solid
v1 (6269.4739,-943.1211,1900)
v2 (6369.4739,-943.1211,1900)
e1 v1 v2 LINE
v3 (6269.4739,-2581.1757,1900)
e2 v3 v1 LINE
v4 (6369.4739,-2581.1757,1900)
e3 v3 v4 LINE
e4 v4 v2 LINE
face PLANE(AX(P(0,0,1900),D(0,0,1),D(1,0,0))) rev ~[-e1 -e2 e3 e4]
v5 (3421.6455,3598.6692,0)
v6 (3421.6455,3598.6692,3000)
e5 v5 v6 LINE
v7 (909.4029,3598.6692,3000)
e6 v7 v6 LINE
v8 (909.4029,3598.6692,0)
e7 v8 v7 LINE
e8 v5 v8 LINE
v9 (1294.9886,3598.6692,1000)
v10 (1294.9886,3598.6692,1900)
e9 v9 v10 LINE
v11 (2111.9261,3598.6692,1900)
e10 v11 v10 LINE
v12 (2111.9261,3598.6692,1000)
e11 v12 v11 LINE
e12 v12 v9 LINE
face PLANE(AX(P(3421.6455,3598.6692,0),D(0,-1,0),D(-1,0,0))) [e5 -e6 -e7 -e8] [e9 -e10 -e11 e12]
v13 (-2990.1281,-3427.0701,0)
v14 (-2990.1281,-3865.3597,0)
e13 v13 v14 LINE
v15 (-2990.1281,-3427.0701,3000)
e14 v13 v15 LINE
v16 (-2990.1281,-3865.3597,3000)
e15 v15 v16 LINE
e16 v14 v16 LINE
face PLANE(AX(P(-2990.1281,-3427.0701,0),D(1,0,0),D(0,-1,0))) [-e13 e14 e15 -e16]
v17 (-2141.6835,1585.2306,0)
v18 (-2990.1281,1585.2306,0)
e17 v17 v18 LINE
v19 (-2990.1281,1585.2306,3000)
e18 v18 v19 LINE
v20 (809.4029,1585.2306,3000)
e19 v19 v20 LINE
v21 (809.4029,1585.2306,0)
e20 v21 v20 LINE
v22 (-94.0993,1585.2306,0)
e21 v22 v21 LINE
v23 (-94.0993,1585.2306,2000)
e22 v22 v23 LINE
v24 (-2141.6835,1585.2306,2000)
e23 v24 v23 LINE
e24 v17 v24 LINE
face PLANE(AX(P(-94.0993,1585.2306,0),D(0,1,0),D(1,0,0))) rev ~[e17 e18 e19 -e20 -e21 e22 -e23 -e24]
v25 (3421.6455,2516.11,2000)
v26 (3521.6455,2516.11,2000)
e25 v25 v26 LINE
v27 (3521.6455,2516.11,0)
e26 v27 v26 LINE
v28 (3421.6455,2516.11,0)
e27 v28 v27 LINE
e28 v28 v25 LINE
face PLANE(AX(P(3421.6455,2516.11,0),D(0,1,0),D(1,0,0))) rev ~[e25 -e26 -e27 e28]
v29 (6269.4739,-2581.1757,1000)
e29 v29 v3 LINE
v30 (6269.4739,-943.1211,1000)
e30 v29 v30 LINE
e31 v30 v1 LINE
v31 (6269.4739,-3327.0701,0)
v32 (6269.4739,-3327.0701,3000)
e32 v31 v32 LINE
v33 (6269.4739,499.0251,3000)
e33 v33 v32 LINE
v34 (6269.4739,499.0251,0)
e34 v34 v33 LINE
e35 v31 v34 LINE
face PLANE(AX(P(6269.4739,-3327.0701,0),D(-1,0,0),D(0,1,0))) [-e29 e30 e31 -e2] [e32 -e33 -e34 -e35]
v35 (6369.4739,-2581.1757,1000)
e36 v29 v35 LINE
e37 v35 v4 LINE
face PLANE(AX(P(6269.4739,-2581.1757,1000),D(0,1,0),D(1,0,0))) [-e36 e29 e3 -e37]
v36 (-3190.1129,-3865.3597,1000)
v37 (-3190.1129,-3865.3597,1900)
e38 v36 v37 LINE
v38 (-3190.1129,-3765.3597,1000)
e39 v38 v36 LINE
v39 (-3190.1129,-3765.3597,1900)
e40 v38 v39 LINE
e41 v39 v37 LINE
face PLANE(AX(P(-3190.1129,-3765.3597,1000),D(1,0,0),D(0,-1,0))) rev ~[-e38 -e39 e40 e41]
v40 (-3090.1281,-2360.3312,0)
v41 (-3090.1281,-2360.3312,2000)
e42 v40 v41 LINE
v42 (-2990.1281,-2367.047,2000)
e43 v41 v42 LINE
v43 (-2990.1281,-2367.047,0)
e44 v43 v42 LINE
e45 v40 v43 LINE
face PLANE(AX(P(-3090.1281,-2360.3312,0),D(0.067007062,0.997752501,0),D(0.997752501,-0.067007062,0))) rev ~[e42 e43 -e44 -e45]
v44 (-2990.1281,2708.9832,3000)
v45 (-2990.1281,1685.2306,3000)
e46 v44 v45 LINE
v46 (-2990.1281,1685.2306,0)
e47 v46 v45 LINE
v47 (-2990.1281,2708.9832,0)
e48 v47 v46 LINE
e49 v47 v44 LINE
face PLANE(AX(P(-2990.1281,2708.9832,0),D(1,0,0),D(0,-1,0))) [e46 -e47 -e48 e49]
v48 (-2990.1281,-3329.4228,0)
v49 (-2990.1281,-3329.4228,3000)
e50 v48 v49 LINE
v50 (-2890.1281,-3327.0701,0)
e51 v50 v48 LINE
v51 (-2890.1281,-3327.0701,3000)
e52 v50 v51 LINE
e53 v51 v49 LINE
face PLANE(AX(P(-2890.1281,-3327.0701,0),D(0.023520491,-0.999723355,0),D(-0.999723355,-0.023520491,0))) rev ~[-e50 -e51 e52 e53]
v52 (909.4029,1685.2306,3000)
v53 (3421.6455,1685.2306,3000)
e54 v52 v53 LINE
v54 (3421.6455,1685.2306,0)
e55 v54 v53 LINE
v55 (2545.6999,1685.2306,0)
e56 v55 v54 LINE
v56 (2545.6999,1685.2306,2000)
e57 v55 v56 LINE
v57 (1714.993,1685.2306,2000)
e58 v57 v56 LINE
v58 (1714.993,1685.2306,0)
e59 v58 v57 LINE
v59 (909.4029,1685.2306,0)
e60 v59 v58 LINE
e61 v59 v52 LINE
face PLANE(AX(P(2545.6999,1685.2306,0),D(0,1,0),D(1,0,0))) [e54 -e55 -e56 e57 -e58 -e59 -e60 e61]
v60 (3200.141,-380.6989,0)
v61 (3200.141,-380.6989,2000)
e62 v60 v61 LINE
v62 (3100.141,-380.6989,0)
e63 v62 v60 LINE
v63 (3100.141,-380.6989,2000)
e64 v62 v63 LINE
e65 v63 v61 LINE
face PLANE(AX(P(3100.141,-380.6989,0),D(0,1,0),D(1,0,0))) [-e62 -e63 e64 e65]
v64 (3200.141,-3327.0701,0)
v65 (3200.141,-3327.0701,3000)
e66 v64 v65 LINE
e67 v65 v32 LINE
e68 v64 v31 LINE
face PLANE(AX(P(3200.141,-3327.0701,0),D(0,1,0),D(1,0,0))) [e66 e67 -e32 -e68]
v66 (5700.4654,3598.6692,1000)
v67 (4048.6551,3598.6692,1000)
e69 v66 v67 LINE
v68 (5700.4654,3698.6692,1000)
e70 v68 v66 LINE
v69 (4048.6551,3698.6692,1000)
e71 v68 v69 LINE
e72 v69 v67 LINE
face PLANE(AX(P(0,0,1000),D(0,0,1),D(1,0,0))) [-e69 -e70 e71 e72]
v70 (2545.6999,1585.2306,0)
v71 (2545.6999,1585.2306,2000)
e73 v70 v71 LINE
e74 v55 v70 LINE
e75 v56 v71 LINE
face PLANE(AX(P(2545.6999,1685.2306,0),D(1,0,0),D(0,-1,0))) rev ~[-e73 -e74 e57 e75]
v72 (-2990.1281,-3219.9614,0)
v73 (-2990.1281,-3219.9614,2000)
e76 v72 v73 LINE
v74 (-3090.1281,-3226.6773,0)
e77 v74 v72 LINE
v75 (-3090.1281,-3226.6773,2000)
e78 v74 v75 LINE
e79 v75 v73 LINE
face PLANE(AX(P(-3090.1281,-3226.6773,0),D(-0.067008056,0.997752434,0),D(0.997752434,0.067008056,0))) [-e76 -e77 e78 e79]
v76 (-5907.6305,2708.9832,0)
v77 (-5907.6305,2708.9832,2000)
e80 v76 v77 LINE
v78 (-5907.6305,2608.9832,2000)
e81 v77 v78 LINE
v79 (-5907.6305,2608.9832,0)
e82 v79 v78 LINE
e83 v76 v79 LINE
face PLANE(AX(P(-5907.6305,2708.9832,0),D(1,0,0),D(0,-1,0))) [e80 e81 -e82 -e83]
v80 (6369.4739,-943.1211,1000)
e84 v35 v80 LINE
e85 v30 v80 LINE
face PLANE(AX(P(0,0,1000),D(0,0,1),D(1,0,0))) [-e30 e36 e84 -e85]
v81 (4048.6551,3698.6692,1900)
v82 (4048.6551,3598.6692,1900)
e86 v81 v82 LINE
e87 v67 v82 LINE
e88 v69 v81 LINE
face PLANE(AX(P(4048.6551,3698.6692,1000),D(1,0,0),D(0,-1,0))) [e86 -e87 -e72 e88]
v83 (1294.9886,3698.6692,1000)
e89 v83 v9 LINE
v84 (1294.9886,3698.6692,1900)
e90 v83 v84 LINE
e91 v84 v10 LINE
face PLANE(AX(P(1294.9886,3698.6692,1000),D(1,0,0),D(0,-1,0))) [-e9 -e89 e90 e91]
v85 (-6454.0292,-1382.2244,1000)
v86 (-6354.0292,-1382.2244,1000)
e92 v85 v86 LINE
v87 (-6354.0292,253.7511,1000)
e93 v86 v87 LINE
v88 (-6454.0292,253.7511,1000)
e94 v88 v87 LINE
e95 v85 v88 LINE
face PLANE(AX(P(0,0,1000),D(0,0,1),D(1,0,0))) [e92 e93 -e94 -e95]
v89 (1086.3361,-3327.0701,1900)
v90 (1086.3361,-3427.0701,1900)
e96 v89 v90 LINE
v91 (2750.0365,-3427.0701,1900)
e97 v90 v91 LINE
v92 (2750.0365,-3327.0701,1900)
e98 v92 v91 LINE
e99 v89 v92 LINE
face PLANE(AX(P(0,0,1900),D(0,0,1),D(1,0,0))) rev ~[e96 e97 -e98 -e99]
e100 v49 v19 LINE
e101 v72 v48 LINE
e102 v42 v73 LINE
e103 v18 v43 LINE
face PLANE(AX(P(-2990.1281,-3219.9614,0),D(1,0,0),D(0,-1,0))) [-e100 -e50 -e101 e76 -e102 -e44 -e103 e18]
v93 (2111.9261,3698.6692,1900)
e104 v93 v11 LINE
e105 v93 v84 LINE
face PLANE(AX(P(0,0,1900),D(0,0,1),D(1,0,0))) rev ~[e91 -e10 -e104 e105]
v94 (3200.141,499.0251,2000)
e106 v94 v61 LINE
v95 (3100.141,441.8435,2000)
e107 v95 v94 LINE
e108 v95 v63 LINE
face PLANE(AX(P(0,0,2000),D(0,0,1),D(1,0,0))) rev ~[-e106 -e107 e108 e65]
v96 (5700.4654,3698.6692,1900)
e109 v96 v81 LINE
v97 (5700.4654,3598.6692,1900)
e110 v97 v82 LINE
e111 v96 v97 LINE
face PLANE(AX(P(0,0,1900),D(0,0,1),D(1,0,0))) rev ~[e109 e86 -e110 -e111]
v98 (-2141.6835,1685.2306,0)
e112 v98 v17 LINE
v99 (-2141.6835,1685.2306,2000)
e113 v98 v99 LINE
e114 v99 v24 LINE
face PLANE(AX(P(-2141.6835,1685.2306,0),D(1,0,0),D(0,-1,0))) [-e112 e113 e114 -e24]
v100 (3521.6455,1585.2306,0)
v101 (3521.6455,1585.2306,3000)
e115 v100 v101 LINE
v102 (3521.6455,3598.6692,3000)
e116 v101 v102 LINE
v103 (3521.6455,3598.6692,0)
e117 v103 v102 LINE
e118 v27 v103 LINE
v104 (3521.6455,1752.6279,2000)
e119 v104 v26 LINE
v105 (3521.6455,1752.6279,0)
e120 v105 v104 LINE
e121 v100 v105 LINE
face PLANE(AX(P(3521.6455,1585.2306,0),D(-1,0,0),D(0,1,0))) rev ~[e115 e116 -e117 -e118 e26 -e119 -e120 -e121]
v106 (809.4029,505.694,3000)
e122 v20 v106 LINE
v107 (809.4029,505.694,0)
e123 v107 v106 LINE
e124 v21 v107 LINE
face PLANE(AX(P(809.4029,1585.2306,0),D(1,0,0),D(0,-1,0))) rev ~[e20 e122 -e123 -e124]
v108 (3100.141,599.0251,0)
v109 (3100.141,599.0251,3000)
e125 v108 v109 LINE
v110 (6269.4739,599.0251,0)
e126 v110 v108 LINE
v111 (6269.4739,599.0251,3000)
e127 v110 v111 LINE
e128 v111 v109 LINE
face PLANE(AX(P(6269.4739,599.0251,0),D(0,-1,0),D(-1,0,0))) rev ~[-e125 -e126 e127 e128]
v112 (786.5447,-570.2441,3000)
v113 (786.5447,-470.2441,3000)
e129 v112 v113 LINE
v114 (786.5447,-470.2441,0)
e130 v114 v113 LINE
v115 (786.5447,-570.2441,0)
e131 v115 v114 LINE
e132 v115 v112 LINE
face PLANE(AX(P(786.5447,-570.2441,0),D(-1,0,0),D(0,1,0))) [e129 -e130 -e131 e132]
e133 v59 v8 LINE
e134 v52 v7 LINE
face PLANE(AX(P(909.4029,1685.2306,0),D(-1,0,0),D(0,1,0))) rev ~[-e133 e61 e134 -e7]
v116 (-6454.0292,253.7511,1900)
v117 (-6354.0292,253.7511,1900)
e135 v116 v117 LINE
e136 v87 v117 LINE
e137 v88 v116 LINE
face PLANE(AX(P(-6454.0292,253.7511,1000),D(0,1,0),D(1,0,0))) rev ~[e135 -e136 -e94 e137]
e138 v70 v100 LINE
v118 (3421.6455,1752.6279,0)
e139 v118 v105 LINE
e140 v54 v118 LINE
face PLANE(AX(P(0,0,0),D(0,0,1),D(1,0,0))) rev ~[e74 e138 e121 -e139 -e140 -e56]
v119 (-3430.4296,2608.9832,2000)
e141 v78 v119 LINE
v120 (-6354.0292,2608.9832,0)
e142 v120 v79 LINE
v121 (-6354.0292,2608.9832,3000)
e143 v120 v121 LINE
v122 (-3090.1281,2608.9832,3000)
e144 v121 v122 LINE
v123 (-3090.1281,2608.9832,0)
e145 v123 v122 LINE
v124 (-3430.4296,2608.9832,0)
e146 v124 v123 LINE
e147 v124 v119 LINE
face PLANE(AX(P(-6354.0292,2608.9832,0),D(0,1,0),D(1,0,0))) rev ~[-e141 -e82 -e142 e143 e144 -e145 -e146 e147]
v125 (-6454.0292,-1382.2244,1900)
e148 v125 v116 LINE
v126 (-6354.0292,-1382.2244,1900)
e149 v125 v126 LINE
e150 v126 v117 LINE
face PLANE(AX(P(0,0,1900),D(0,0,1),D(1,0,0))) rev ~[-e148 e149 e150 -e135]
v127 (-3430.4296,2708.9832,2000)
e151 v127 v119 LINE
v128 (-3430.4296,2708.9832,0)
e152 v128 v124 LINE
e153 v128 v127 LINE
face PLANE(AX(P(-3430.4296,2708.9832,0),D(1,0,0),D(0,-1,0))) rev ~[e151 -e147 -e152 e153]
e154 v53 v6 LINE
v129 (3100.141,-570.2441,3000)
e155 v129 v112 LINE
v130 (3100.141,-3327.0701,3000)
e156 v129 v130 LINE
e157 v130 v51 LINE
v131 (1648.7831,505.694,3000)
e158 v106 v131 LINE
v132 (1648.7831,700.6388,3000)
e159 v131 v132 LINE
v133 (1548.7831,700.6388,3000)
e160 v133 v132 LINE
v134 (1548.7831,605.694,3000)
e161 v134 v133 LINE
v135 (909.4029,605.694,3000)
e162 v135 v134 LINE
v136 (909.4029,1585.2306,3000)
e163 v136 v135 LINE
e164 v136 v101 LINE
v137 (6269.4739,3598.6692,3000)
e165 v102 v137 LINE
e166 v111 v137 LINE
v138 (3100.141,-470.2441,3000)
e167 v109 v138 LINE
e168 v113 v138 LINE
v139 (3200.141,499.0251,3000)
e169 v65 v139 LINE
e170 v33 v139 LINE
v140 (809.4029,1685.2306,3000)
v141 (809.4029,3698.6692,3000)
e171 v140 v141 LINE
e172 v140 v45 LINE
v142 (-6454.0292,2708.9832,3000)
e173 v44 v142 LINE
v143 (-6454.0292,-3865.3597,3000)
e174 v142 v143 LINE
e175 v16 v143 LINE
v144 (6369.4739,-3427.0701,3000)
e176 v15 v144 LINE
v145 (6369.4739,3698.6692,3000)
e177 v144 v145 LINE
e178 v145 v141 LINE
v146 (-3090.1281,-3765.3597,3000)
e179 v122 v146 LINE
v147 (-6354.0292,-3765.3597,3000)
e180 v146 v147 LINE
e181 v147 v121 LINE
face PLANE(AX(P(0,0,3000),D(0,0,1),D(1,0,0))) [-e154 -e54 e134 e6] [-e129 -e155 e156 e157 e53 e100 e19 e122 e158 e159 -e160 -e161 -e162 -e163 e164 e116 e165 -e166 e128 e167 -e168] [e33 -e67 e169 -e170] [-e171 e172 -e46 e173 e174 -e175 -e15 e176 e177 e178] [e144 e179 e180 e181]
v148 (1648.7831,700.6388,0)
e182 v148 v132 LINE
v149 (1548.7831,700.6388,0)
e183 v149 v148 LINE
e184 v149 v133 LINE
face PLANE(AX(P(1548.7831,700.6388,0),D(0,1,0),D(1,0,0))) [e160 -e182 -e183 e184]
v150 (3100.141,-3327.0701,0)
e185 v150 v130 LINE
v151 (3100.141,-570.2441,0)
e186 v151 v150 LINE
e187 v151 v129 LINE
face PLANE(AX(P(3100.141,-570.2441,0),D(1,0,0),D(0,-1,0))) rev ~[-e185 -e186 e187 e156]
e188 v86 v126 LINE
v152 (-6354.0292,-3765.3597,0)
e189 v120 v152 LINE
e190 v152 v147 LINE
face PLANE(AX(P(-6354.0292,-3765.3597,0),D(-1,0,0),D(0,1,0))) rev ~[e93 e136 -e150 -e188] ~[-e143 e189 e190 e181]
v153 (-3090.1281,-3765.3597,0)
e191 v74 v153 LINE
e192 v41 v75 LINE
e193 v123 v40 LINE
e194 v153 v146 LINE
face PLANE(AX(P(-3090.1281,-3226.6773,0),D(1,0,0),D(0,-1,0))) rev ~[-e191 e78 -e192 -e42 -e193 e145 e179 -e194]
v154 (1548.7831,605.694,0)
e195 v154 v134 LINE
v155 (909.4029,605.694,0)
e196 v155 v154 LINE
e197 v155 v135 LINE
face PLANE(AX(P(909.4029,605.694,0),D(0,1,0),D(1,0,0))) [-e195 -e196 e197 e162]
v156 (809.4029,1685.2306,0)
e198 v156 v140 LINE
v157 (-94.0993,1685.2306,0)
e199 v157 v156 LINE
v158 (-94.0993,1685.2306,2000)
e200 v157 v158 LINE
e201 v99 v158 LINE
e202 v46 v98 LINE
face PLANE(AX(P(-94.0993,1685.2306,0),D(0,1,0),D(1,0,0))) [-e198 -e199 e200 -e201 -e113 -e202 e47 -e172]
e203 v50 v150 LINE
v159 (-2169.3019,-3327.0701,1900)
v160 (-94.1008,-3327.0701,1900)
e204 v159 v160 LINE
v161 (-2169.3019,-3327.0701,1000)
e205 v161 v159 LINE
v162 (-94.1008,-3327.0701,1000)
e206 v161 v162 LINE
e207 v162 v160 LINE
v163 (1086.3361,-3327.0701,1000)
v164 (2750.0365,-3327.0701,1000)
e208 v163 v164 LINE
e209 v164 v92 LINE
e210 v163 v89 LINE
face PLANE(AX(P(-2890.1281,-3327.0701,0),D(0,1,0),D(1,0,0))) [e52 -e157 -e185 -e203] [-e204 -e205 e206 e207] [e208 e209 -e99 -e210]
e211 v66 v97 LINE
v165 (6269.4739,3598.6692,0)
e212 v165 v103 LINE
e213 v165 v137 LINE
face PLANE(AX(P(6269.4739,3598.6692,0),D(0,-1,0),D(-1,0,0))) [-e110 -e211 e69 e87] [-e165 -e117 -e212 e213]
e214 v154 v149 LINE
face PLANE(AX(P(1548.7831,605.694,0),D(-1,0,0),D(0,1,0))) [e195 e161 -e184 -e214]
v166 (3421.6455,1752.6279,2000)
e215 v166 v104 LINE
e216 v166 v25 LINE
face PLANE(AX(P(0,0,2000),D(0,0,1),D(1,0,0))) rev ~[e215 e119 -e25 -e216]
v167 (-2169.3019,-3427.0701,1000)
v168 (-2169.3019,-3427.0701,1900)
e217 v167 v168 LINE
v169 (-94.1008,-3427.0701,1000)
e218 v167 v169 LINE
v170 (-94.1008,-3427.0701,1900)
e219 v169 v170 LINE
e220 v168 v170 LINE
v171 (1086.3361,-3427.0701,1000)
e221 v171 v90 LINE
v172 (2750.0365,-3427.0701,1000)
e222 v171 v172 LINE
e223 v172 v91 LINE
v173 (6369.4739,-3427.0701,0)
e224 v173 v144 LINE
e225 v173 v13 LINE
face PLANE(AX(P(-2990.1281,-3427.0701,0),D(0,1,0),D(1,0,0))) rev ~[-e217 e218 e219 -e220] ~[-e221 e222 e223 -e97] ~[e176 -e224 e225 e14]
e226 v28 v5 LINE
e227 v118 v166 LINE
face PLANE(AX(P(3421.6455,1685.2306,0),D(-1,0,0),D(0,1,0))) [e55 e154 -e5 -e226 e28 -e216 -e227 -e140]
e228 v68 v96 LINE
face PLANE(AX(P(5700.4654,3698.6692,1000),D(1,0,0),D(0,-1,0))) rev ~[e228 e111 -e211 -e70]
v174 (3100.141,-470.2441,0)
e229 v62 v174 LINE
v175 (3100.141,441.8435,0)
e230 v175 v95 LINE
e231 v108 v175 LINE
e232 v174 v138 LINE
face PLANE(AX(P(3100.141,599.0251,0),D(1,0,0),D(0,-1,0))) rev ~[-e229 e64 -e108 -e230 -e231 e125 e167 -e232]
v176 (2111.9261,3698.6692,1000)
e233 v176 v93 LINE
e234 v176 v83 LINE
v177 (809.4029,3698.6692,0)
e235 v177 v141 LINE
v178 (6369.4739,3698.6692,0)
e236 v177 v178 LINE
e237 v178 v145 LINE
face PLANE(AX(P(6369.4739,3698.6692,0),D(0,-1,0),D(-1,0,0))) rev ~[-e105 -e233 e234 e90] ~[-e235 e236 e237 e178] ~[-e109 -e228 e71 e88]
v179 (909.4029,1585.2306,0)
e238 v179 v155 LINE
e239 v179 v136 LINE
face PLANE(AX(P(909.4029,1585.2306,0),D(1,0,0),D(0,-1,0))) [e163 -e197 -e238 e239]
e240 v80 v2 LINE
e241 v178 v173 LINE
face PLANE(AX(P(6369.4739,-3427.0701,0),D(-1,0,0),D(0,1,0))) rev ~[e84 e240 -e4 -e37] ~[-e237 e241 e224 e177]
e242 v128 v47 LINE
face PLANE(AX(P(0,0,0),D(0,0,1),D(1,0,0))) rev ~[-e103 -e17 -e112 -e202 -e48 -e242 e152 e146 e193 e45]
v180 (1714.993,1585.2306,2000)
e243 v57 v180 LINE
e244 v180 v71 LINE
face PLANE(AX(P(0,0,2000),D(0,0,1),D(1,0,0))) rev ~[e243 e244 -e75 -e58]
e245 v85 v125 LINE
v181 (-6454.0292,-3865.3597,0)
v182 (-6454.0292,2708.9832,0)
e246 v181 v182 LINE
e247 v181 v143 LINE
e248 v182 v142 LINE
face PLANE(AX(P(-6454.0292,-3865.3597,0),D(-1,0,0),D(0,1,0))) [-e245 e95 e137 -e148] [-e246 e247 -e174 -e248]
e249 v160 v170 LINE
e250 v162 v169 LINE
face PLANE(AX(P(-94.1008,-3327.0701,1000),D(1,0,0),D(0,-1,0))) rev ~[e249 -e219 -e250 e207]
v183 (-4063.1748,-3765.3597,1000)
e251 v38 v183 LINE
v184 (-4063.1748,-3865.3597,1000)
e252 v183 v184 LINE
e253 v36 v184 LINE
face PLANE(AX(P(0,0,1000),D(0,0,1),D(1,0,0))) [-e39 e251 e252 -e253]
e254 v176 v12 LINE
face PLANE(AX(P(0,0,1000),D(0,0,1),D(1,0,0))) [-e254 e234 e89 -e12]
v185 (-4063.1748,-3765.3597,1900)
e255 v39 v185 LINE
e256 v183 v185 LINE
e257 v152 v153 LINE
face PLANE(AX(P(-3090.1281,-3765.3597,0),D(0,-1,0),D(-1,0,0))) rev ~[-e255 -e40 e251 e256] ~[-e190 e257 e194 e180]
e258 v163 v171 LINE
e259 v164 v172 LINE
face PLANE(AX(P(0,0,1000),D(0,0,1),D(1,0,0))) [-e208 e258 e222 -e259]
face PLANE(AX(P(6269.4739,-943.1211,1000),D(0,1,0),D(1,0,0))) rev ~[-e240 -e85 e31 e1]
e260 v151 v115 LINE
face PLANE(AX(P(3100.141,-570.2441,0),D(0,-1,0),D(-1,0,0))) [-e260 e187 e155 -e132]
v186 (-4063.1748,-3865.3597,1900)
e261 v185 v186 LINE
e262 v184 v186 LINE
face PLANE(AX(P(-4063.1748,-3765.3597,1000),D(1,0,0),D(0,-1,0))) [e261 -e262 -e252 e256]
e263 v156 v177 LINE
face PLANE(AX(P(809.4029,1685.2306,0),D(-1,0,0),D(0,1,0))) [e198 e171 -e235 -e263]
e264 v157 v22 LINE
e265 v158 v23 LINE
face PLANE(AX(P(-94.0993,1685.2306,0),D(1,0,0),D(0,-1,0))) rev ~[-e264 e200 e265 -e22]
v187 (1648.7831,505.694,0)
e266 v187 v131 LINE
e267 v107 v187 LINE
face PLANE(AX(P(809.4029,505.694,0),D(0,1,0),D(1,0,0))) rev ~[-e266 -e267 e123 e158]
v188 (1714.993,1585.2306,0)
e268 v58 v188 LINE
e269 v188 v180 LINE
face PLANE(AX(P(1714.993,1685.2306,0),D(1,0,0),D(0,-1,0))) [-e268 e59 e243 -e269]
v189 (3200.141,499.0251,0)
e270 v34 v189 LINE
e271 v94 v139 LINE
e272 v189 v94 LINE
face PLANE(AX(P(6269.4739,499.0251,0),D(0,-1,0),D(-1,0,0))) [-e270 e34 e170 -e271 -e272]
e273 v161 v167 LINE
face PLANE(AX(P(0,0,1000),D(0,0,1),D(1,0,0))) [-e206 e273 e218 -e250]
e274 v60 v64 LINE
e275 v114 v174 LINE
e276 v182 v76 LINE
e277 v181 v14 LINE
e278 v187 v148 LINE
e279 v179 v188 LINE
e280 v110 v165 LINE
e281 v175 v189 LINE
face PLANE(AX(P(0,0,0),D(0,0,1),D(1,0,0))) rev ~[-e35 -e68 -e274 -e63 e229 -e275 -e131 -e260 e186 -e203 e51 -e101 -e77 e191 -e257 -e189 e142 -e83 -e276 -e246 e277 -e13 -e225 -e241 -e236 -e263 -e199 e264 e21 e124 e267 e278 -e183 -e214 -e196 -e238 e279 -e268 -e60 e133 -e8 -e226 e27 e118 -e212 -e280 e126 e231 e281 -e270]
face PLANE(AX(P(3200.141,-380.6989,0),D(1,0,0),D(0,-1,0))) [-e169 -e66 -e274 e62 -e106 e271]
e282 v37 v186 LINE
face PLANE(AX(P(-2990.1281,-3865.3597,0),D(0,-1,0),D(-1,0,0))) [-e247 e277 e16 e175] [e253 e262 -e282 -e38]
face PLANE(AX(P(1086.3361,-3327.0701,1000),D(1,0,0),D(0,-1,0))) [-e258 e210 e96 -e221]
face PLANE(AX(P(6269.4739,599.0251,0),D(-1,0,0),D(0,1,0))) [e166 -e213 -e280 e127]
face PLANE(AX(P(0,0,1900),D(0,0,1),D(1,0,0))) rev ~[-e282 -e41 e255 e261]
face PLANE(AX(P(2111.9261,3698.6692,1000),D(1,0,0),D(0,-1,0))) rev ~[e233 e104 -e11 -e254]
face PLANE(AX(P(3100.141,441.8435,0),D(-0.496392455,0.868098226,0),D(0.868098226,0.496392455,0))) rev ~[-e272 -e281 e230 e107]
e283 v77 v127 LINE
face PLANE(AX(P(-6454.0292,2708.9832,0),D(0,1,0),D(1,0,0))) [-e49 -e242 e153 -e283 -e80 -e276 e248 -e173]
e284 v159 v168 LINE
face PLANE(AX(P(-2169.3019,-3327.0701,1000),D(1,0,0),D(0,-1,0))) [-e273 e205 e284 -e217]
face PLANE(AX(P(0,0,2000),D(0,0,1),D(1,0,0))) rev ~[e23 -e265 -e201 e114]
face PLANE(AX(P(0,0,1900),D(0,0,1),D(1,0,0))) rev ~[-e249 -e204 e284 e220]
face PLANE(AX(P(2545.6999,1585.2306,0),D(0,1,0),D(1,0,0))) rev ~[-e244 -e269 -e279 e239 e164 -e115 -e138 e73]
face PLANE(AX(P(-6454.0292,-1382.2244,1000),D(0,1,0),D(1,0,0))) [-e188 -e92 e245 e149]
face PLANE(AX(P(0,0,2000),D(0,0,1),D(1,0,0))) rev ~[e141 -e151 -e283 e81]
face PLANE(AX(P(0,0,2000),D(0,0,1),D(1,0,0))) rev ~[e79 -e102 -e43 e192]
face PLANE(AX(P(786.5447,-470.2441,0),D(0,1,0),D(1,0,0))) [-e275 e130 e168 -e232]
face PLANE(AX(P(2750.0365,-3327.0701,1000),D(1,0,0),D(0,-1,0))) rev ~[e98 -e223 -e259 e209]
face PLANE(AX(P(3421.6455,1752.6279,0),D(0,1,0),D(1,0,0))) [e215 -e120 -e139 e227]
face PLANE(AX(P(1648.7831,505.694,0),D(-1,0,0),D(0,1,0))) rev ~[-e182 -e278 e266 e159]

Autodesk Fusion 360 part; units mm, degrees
sketch "Sketch1" plane through (0, 0, 0) normal (0, 0, 1) x (1, 0, 0)
  line L0 (-2990.1281, -3865.3597) -> (-6454.0292, -3865.3597)
  line L1 (-6454.0292, -3865.3597) -> (-6454.0292, 2708.9832)
  line L2 (-6454.0292, 2708.9832) -> (-2990.1281, 2708.9832)
  line L3 (-2990.1281, 2708.9832) -> (-2990.1281, -3865.3597)
  line L4 (-2990.1281, -3427.0701) -> (6369.4739, -3427.0701)
  line L5 (6369.4739, -3427.0701) -> (6369.4739, 3698.6692)
  line L6 (6369.4739, 3698.6692) -> (809.4029, 3698.6692)
  line L7 (-2990.1281, 2708.9832) -> (-2990.1281, -3427.0701)
  line L8 (-2990.1281, 1685.2306) -> (809.4029, 1685.2306)
  line L9 (809.4029, 1685.2306) -> (809.4029, 3698.6692)
  line L10 (-2990.1281, 2708.9832) -> (-2990.1281, 1685.2306)
  line L11 (6369.4739, 599.0251) -> (3100.141, 599.0251)
  line L12 (3100.141, 599.0251) -> (3100.141, -3427.0701)
  line L13 (3100.141, -3427.0701) -> (6369.4739, -3427.0701)
  line L14 (6369.4739, -3427.0701) -> (6369.4739, 599.0251)
  line L15 (3100.141, -570.2441) -> (786.5447, -570.2441)
  line L16 (786.5447, -570.2441) -> (786.5447, -470.2441)
  line L17 (786.5447, -470.2441) -> (3100.141, -470.2441)
  line L18 (3100.141, -470.2441) -> (3100.141, -570.2441)
  line L19 (-3090.1281, -3765.3597) -> (-6354.0292, -3765.3597)
  line L20 (-6354.0292, -3765.3597) -> (-6354.0292, 2608.9832)
  line L21 (-6354.0292, 2608.9832) -> (-3090.1281, 2608.9832)
  line L22 (-3090.1281, 2608.9832) -> (-3090.1281, -3765.3597)
  line L23 (-2890.1281, -3327.0701) -> (6269.4739, -3327.0701)
  line L24 (6269.4739, -3327.0701) -> (6269.4739, 3598.6692)
  line L25 (6269.4739, 3598.6692) -> (909.4029, 3598.6692)
  line L26 (909.4029, 1585.2306) -> (909.4029, 3598.6692)
  line L27 (-2890.1281, 1585.2306) -> (909.4029, 1585.2306)
  line L28 (-2890.1281, -3327.0701) -> (-2990.1281, -3329.4228)
  line L29 (-2890.1281, 1585.2306) -> (-2990.1281, 1585.2306)
  line L30 (6369.4739, 499.0251) -> (3200.141, 499.0251)
  line L31 (3200.141, 499.0251) -> (3200.141, -3427.0701)
  line L32 (809.4029, 1585.2306) -> (3521.6455, 1585.2306)
  line L33 (3521.6455, 1585.2306) -> (3521.6455, 3698.6692)
  line L34 (3521.6455, 3698.6692) -> (809.4029, 3698.6692)
  line L35 (809.4029, 3698.6692) -> (809.4029, 1585.2306)
  line L36 (809.4029, 1685.2306) -> (3421.6455, 1685.2306)
  line L37 (3421.6455, 1685.2306) -> (3421.6455, 3698.6692)
  line L38 (809.4029, 1585.2306) -> (809.4029, 505.694)
  line L39 (809.4029, 505.694) -> (1648.7831, 505.694)
  line L40 (1648.7831, 505.694) -> (1648.7831, 700.6388)
  line L41 (909.4029, 1585.2306) -> (909.4029, 605.694)
  line L42 (909.4029, 605.694) -> (1548.7831, 605.694)
  line L43 (1548.7831, 605.694) -> (1548.7831, 700.6388)
  line L44 (1548.7831, 700.6388) -> (1648.7831, 700.6388)
  line L45 (1294.9886, 3698.6692) -> (1294.9886, 3598.6692)
  line L46 (2111.9261, 3698.6692) -> (2111.9261, 3598.6692)
  line L47 (4048.6551, 3698.6692) -> (4048.6551, 3598.6692)
  line L48 (5700.4654, 3698.6692) -> (5700.4654, 3598.6692)
  line L49 (3421.6455, 2516.11) -> (3521.6455, 2516.11)
  line L50 (3421.6455, 1752.6279) -> (3521.6455, 1752.6279)
  line L51 (2545.6999, 1685.2306) -> (2545.6999, 1585.2306)
  line L52 (1714.993, 1685.2306) -> (1714.993, 1585.2306)
  line L53 (3100.141, 441.8435) -> (3200.141, 499.0251)
  line L54 (3100.141, -380.6989) -> (3200.141, -380.6989)
  line L55 (6269.4739, -943.1211) -> (6369.4739, -943.1211)
  line L56 (6269.4739, -2581.1757) -> (6369.4739, -2581.1757)
  line L57 (-2141.6835, 1685.2306) -> (-2141.6835, 1585.2306)
  line L58 (-94.0993, 1685.2306) -> (-94.0993, 1585.2306)
  line L59 (-5907.6305, 2708.9832) -> (-5907.6305, 2608.9832)
  line L60 (-3430.4296, 2708.9832) -> (-3430.4296, 2608.9832)
  line L61 (-6454.0292, 253.7511) -> (-6354.0292, 253.7511)
  line L62 (-6454.0292, -1382.2244) -> (-6354.0292, -1382.2244)
  line L63 (-4063.1748, -3765.3597) -> (-4063.1748, -3865.3597)
  line L64 (-3190.1129, -3765.3597) -> (-3190.1129, -3865.3597)
  line L65 (-3090.1281, -3226.6773) -> (-2990.1281, -3219.9614)
  line L66 (-3090.1281, -2360.3312) -> (-2990.1281, -2367.047)
  line L67 (-2169.3019, -3327.0701) -> (-2169.3019, -3427.0701)
  line L68 (-94.1008, -3327.0701) -> (-94.1008, -3427.0701)
  line L69 (1086.3361, -3327.0701) -> (1086.3361, -3427.0701)
  line L70 (2750.0365, -3327.0701) -> (2750.0365, -3427.0701)
  dimension "d1" = 100
  dimension "d3" = 100
  dimension "d4" = -100
  dimension "d5" = -100
  dimension "d6" = -100
extrude "Extrude1" add sketch "Sketch1" along normal blind 3000 contours L0 L3 L7 L19 L22 L64 L65 | L0 L19 L63 L64 | L3 L4 L7 L23 L28 L67 | L0 L1 L19 L20 L62 L63 | L4 L23 L67 L68 | L4 L23 L68 L69 | L1 L20 L61 L62 | L2 L3 L7 L10 L21 L22 L60 L66 | L4 L23 L69 L70 | L1 L2 L20 L21 L59 L61 | L3 L7 L8 L27 L29 L57 | L4 L12 L23 L70 | L4 L12 L13 L23 L31 | L4 L5 L13 L14 L23 L24 L31 L56 | L12 L18 L23 L31 L54 | L8 L27 L35 L58 | L12 L15 L16 L17 L18 | L26 L27 L32 L35 L36 | L6 L9 L25 L26 L34 L35 L36 L45 | L27 L32 L38 L39 L40 L41 L42 L43 L44 | L5 L14 L24 L55 L56 | L26 L32 L36 L52 | L5 L14 L24 L30 L55 | L11 L12 L24 L30 L53 | L6 L25 L34 L45 L46 | L5 L11 L14 L24 L30 | L6 L25 L34 L37 L46 | L32 L33 L36 L37 L50 L51 | L5 L6 L11 L24 L25 L48 | L6 L25 L33 L34 L37 | L6 L25 L33 L47 | L25 L33 L37 L49 | L6 L25 L47 L48 makes body 1 at (129.7392, -3427.0701, 1000) makes body 2 at (2871.0151, 1585.2306, 1000) makes body 3 at (-3090.1281, 952.545, 1000)
extrude "Extrude2" cut sketch "Sketch1" along normal blind 900 from surface at 1000 contours L0 L19 L63 L64 | L4 L23 L67 L68 | L1 L20 L61 L62 | L4 L23 L69 L70 | L5 L14 L24 L55 L56 | L6 L25 L34 L45 L46 | L6 L25 L47 L48 bodies 1
extrude "Extrude3" add sketch "Sketch1" along normal blind 1000 from surface at 2000 contours L3 L7 L22 L65 L66 | L2 L21 L59 L60 | L8 L27 L57 L58 | L12 L31 L53 L54 | L32 L36 L51 L52 | L33 L37 L49 L50 bodies 1 2 3
sketch "Sketch2" plane through (0, 0, 3000) normal (0, 0, 1) x (-1, 0, 0)
  line L0 (7020.2567, -3282.1442) -> (-157.9932, -3282.1442)
  line L1 (-157.9932, -3282.1442) -> (-157.9932, -4307.6085)
  line L2 (-157.9932, -4307.6085) -> (-6983.7398, -4307.6085)
  line L3 (-6983.7398, -4307.6085) -> (-6983.7398, 4040.3116)
  line L4 (-6983.7398, 4040.3116) -> (7004.2338, 4040.3116)
  line L5 (7004.2338, 4040.3116) -> (7020.2567, -3282.1442)
sketch "Sketch3" plane through (0, 0, 0) normal (0, 1, 0) x (1, 0, 0)
  line L0 (6983.7398, -3000) -> (4583.9009, -4982.1418)
  line L1 (4583.9009, -4982.1418) -> (-5175.4891, -4982.1418)
  line L2 (-5175.4891, -4982.1418) -> (-7004.2338, -3000)
  line L3 (-7004.2338, -3000) -> (6983.7398, -3000)
